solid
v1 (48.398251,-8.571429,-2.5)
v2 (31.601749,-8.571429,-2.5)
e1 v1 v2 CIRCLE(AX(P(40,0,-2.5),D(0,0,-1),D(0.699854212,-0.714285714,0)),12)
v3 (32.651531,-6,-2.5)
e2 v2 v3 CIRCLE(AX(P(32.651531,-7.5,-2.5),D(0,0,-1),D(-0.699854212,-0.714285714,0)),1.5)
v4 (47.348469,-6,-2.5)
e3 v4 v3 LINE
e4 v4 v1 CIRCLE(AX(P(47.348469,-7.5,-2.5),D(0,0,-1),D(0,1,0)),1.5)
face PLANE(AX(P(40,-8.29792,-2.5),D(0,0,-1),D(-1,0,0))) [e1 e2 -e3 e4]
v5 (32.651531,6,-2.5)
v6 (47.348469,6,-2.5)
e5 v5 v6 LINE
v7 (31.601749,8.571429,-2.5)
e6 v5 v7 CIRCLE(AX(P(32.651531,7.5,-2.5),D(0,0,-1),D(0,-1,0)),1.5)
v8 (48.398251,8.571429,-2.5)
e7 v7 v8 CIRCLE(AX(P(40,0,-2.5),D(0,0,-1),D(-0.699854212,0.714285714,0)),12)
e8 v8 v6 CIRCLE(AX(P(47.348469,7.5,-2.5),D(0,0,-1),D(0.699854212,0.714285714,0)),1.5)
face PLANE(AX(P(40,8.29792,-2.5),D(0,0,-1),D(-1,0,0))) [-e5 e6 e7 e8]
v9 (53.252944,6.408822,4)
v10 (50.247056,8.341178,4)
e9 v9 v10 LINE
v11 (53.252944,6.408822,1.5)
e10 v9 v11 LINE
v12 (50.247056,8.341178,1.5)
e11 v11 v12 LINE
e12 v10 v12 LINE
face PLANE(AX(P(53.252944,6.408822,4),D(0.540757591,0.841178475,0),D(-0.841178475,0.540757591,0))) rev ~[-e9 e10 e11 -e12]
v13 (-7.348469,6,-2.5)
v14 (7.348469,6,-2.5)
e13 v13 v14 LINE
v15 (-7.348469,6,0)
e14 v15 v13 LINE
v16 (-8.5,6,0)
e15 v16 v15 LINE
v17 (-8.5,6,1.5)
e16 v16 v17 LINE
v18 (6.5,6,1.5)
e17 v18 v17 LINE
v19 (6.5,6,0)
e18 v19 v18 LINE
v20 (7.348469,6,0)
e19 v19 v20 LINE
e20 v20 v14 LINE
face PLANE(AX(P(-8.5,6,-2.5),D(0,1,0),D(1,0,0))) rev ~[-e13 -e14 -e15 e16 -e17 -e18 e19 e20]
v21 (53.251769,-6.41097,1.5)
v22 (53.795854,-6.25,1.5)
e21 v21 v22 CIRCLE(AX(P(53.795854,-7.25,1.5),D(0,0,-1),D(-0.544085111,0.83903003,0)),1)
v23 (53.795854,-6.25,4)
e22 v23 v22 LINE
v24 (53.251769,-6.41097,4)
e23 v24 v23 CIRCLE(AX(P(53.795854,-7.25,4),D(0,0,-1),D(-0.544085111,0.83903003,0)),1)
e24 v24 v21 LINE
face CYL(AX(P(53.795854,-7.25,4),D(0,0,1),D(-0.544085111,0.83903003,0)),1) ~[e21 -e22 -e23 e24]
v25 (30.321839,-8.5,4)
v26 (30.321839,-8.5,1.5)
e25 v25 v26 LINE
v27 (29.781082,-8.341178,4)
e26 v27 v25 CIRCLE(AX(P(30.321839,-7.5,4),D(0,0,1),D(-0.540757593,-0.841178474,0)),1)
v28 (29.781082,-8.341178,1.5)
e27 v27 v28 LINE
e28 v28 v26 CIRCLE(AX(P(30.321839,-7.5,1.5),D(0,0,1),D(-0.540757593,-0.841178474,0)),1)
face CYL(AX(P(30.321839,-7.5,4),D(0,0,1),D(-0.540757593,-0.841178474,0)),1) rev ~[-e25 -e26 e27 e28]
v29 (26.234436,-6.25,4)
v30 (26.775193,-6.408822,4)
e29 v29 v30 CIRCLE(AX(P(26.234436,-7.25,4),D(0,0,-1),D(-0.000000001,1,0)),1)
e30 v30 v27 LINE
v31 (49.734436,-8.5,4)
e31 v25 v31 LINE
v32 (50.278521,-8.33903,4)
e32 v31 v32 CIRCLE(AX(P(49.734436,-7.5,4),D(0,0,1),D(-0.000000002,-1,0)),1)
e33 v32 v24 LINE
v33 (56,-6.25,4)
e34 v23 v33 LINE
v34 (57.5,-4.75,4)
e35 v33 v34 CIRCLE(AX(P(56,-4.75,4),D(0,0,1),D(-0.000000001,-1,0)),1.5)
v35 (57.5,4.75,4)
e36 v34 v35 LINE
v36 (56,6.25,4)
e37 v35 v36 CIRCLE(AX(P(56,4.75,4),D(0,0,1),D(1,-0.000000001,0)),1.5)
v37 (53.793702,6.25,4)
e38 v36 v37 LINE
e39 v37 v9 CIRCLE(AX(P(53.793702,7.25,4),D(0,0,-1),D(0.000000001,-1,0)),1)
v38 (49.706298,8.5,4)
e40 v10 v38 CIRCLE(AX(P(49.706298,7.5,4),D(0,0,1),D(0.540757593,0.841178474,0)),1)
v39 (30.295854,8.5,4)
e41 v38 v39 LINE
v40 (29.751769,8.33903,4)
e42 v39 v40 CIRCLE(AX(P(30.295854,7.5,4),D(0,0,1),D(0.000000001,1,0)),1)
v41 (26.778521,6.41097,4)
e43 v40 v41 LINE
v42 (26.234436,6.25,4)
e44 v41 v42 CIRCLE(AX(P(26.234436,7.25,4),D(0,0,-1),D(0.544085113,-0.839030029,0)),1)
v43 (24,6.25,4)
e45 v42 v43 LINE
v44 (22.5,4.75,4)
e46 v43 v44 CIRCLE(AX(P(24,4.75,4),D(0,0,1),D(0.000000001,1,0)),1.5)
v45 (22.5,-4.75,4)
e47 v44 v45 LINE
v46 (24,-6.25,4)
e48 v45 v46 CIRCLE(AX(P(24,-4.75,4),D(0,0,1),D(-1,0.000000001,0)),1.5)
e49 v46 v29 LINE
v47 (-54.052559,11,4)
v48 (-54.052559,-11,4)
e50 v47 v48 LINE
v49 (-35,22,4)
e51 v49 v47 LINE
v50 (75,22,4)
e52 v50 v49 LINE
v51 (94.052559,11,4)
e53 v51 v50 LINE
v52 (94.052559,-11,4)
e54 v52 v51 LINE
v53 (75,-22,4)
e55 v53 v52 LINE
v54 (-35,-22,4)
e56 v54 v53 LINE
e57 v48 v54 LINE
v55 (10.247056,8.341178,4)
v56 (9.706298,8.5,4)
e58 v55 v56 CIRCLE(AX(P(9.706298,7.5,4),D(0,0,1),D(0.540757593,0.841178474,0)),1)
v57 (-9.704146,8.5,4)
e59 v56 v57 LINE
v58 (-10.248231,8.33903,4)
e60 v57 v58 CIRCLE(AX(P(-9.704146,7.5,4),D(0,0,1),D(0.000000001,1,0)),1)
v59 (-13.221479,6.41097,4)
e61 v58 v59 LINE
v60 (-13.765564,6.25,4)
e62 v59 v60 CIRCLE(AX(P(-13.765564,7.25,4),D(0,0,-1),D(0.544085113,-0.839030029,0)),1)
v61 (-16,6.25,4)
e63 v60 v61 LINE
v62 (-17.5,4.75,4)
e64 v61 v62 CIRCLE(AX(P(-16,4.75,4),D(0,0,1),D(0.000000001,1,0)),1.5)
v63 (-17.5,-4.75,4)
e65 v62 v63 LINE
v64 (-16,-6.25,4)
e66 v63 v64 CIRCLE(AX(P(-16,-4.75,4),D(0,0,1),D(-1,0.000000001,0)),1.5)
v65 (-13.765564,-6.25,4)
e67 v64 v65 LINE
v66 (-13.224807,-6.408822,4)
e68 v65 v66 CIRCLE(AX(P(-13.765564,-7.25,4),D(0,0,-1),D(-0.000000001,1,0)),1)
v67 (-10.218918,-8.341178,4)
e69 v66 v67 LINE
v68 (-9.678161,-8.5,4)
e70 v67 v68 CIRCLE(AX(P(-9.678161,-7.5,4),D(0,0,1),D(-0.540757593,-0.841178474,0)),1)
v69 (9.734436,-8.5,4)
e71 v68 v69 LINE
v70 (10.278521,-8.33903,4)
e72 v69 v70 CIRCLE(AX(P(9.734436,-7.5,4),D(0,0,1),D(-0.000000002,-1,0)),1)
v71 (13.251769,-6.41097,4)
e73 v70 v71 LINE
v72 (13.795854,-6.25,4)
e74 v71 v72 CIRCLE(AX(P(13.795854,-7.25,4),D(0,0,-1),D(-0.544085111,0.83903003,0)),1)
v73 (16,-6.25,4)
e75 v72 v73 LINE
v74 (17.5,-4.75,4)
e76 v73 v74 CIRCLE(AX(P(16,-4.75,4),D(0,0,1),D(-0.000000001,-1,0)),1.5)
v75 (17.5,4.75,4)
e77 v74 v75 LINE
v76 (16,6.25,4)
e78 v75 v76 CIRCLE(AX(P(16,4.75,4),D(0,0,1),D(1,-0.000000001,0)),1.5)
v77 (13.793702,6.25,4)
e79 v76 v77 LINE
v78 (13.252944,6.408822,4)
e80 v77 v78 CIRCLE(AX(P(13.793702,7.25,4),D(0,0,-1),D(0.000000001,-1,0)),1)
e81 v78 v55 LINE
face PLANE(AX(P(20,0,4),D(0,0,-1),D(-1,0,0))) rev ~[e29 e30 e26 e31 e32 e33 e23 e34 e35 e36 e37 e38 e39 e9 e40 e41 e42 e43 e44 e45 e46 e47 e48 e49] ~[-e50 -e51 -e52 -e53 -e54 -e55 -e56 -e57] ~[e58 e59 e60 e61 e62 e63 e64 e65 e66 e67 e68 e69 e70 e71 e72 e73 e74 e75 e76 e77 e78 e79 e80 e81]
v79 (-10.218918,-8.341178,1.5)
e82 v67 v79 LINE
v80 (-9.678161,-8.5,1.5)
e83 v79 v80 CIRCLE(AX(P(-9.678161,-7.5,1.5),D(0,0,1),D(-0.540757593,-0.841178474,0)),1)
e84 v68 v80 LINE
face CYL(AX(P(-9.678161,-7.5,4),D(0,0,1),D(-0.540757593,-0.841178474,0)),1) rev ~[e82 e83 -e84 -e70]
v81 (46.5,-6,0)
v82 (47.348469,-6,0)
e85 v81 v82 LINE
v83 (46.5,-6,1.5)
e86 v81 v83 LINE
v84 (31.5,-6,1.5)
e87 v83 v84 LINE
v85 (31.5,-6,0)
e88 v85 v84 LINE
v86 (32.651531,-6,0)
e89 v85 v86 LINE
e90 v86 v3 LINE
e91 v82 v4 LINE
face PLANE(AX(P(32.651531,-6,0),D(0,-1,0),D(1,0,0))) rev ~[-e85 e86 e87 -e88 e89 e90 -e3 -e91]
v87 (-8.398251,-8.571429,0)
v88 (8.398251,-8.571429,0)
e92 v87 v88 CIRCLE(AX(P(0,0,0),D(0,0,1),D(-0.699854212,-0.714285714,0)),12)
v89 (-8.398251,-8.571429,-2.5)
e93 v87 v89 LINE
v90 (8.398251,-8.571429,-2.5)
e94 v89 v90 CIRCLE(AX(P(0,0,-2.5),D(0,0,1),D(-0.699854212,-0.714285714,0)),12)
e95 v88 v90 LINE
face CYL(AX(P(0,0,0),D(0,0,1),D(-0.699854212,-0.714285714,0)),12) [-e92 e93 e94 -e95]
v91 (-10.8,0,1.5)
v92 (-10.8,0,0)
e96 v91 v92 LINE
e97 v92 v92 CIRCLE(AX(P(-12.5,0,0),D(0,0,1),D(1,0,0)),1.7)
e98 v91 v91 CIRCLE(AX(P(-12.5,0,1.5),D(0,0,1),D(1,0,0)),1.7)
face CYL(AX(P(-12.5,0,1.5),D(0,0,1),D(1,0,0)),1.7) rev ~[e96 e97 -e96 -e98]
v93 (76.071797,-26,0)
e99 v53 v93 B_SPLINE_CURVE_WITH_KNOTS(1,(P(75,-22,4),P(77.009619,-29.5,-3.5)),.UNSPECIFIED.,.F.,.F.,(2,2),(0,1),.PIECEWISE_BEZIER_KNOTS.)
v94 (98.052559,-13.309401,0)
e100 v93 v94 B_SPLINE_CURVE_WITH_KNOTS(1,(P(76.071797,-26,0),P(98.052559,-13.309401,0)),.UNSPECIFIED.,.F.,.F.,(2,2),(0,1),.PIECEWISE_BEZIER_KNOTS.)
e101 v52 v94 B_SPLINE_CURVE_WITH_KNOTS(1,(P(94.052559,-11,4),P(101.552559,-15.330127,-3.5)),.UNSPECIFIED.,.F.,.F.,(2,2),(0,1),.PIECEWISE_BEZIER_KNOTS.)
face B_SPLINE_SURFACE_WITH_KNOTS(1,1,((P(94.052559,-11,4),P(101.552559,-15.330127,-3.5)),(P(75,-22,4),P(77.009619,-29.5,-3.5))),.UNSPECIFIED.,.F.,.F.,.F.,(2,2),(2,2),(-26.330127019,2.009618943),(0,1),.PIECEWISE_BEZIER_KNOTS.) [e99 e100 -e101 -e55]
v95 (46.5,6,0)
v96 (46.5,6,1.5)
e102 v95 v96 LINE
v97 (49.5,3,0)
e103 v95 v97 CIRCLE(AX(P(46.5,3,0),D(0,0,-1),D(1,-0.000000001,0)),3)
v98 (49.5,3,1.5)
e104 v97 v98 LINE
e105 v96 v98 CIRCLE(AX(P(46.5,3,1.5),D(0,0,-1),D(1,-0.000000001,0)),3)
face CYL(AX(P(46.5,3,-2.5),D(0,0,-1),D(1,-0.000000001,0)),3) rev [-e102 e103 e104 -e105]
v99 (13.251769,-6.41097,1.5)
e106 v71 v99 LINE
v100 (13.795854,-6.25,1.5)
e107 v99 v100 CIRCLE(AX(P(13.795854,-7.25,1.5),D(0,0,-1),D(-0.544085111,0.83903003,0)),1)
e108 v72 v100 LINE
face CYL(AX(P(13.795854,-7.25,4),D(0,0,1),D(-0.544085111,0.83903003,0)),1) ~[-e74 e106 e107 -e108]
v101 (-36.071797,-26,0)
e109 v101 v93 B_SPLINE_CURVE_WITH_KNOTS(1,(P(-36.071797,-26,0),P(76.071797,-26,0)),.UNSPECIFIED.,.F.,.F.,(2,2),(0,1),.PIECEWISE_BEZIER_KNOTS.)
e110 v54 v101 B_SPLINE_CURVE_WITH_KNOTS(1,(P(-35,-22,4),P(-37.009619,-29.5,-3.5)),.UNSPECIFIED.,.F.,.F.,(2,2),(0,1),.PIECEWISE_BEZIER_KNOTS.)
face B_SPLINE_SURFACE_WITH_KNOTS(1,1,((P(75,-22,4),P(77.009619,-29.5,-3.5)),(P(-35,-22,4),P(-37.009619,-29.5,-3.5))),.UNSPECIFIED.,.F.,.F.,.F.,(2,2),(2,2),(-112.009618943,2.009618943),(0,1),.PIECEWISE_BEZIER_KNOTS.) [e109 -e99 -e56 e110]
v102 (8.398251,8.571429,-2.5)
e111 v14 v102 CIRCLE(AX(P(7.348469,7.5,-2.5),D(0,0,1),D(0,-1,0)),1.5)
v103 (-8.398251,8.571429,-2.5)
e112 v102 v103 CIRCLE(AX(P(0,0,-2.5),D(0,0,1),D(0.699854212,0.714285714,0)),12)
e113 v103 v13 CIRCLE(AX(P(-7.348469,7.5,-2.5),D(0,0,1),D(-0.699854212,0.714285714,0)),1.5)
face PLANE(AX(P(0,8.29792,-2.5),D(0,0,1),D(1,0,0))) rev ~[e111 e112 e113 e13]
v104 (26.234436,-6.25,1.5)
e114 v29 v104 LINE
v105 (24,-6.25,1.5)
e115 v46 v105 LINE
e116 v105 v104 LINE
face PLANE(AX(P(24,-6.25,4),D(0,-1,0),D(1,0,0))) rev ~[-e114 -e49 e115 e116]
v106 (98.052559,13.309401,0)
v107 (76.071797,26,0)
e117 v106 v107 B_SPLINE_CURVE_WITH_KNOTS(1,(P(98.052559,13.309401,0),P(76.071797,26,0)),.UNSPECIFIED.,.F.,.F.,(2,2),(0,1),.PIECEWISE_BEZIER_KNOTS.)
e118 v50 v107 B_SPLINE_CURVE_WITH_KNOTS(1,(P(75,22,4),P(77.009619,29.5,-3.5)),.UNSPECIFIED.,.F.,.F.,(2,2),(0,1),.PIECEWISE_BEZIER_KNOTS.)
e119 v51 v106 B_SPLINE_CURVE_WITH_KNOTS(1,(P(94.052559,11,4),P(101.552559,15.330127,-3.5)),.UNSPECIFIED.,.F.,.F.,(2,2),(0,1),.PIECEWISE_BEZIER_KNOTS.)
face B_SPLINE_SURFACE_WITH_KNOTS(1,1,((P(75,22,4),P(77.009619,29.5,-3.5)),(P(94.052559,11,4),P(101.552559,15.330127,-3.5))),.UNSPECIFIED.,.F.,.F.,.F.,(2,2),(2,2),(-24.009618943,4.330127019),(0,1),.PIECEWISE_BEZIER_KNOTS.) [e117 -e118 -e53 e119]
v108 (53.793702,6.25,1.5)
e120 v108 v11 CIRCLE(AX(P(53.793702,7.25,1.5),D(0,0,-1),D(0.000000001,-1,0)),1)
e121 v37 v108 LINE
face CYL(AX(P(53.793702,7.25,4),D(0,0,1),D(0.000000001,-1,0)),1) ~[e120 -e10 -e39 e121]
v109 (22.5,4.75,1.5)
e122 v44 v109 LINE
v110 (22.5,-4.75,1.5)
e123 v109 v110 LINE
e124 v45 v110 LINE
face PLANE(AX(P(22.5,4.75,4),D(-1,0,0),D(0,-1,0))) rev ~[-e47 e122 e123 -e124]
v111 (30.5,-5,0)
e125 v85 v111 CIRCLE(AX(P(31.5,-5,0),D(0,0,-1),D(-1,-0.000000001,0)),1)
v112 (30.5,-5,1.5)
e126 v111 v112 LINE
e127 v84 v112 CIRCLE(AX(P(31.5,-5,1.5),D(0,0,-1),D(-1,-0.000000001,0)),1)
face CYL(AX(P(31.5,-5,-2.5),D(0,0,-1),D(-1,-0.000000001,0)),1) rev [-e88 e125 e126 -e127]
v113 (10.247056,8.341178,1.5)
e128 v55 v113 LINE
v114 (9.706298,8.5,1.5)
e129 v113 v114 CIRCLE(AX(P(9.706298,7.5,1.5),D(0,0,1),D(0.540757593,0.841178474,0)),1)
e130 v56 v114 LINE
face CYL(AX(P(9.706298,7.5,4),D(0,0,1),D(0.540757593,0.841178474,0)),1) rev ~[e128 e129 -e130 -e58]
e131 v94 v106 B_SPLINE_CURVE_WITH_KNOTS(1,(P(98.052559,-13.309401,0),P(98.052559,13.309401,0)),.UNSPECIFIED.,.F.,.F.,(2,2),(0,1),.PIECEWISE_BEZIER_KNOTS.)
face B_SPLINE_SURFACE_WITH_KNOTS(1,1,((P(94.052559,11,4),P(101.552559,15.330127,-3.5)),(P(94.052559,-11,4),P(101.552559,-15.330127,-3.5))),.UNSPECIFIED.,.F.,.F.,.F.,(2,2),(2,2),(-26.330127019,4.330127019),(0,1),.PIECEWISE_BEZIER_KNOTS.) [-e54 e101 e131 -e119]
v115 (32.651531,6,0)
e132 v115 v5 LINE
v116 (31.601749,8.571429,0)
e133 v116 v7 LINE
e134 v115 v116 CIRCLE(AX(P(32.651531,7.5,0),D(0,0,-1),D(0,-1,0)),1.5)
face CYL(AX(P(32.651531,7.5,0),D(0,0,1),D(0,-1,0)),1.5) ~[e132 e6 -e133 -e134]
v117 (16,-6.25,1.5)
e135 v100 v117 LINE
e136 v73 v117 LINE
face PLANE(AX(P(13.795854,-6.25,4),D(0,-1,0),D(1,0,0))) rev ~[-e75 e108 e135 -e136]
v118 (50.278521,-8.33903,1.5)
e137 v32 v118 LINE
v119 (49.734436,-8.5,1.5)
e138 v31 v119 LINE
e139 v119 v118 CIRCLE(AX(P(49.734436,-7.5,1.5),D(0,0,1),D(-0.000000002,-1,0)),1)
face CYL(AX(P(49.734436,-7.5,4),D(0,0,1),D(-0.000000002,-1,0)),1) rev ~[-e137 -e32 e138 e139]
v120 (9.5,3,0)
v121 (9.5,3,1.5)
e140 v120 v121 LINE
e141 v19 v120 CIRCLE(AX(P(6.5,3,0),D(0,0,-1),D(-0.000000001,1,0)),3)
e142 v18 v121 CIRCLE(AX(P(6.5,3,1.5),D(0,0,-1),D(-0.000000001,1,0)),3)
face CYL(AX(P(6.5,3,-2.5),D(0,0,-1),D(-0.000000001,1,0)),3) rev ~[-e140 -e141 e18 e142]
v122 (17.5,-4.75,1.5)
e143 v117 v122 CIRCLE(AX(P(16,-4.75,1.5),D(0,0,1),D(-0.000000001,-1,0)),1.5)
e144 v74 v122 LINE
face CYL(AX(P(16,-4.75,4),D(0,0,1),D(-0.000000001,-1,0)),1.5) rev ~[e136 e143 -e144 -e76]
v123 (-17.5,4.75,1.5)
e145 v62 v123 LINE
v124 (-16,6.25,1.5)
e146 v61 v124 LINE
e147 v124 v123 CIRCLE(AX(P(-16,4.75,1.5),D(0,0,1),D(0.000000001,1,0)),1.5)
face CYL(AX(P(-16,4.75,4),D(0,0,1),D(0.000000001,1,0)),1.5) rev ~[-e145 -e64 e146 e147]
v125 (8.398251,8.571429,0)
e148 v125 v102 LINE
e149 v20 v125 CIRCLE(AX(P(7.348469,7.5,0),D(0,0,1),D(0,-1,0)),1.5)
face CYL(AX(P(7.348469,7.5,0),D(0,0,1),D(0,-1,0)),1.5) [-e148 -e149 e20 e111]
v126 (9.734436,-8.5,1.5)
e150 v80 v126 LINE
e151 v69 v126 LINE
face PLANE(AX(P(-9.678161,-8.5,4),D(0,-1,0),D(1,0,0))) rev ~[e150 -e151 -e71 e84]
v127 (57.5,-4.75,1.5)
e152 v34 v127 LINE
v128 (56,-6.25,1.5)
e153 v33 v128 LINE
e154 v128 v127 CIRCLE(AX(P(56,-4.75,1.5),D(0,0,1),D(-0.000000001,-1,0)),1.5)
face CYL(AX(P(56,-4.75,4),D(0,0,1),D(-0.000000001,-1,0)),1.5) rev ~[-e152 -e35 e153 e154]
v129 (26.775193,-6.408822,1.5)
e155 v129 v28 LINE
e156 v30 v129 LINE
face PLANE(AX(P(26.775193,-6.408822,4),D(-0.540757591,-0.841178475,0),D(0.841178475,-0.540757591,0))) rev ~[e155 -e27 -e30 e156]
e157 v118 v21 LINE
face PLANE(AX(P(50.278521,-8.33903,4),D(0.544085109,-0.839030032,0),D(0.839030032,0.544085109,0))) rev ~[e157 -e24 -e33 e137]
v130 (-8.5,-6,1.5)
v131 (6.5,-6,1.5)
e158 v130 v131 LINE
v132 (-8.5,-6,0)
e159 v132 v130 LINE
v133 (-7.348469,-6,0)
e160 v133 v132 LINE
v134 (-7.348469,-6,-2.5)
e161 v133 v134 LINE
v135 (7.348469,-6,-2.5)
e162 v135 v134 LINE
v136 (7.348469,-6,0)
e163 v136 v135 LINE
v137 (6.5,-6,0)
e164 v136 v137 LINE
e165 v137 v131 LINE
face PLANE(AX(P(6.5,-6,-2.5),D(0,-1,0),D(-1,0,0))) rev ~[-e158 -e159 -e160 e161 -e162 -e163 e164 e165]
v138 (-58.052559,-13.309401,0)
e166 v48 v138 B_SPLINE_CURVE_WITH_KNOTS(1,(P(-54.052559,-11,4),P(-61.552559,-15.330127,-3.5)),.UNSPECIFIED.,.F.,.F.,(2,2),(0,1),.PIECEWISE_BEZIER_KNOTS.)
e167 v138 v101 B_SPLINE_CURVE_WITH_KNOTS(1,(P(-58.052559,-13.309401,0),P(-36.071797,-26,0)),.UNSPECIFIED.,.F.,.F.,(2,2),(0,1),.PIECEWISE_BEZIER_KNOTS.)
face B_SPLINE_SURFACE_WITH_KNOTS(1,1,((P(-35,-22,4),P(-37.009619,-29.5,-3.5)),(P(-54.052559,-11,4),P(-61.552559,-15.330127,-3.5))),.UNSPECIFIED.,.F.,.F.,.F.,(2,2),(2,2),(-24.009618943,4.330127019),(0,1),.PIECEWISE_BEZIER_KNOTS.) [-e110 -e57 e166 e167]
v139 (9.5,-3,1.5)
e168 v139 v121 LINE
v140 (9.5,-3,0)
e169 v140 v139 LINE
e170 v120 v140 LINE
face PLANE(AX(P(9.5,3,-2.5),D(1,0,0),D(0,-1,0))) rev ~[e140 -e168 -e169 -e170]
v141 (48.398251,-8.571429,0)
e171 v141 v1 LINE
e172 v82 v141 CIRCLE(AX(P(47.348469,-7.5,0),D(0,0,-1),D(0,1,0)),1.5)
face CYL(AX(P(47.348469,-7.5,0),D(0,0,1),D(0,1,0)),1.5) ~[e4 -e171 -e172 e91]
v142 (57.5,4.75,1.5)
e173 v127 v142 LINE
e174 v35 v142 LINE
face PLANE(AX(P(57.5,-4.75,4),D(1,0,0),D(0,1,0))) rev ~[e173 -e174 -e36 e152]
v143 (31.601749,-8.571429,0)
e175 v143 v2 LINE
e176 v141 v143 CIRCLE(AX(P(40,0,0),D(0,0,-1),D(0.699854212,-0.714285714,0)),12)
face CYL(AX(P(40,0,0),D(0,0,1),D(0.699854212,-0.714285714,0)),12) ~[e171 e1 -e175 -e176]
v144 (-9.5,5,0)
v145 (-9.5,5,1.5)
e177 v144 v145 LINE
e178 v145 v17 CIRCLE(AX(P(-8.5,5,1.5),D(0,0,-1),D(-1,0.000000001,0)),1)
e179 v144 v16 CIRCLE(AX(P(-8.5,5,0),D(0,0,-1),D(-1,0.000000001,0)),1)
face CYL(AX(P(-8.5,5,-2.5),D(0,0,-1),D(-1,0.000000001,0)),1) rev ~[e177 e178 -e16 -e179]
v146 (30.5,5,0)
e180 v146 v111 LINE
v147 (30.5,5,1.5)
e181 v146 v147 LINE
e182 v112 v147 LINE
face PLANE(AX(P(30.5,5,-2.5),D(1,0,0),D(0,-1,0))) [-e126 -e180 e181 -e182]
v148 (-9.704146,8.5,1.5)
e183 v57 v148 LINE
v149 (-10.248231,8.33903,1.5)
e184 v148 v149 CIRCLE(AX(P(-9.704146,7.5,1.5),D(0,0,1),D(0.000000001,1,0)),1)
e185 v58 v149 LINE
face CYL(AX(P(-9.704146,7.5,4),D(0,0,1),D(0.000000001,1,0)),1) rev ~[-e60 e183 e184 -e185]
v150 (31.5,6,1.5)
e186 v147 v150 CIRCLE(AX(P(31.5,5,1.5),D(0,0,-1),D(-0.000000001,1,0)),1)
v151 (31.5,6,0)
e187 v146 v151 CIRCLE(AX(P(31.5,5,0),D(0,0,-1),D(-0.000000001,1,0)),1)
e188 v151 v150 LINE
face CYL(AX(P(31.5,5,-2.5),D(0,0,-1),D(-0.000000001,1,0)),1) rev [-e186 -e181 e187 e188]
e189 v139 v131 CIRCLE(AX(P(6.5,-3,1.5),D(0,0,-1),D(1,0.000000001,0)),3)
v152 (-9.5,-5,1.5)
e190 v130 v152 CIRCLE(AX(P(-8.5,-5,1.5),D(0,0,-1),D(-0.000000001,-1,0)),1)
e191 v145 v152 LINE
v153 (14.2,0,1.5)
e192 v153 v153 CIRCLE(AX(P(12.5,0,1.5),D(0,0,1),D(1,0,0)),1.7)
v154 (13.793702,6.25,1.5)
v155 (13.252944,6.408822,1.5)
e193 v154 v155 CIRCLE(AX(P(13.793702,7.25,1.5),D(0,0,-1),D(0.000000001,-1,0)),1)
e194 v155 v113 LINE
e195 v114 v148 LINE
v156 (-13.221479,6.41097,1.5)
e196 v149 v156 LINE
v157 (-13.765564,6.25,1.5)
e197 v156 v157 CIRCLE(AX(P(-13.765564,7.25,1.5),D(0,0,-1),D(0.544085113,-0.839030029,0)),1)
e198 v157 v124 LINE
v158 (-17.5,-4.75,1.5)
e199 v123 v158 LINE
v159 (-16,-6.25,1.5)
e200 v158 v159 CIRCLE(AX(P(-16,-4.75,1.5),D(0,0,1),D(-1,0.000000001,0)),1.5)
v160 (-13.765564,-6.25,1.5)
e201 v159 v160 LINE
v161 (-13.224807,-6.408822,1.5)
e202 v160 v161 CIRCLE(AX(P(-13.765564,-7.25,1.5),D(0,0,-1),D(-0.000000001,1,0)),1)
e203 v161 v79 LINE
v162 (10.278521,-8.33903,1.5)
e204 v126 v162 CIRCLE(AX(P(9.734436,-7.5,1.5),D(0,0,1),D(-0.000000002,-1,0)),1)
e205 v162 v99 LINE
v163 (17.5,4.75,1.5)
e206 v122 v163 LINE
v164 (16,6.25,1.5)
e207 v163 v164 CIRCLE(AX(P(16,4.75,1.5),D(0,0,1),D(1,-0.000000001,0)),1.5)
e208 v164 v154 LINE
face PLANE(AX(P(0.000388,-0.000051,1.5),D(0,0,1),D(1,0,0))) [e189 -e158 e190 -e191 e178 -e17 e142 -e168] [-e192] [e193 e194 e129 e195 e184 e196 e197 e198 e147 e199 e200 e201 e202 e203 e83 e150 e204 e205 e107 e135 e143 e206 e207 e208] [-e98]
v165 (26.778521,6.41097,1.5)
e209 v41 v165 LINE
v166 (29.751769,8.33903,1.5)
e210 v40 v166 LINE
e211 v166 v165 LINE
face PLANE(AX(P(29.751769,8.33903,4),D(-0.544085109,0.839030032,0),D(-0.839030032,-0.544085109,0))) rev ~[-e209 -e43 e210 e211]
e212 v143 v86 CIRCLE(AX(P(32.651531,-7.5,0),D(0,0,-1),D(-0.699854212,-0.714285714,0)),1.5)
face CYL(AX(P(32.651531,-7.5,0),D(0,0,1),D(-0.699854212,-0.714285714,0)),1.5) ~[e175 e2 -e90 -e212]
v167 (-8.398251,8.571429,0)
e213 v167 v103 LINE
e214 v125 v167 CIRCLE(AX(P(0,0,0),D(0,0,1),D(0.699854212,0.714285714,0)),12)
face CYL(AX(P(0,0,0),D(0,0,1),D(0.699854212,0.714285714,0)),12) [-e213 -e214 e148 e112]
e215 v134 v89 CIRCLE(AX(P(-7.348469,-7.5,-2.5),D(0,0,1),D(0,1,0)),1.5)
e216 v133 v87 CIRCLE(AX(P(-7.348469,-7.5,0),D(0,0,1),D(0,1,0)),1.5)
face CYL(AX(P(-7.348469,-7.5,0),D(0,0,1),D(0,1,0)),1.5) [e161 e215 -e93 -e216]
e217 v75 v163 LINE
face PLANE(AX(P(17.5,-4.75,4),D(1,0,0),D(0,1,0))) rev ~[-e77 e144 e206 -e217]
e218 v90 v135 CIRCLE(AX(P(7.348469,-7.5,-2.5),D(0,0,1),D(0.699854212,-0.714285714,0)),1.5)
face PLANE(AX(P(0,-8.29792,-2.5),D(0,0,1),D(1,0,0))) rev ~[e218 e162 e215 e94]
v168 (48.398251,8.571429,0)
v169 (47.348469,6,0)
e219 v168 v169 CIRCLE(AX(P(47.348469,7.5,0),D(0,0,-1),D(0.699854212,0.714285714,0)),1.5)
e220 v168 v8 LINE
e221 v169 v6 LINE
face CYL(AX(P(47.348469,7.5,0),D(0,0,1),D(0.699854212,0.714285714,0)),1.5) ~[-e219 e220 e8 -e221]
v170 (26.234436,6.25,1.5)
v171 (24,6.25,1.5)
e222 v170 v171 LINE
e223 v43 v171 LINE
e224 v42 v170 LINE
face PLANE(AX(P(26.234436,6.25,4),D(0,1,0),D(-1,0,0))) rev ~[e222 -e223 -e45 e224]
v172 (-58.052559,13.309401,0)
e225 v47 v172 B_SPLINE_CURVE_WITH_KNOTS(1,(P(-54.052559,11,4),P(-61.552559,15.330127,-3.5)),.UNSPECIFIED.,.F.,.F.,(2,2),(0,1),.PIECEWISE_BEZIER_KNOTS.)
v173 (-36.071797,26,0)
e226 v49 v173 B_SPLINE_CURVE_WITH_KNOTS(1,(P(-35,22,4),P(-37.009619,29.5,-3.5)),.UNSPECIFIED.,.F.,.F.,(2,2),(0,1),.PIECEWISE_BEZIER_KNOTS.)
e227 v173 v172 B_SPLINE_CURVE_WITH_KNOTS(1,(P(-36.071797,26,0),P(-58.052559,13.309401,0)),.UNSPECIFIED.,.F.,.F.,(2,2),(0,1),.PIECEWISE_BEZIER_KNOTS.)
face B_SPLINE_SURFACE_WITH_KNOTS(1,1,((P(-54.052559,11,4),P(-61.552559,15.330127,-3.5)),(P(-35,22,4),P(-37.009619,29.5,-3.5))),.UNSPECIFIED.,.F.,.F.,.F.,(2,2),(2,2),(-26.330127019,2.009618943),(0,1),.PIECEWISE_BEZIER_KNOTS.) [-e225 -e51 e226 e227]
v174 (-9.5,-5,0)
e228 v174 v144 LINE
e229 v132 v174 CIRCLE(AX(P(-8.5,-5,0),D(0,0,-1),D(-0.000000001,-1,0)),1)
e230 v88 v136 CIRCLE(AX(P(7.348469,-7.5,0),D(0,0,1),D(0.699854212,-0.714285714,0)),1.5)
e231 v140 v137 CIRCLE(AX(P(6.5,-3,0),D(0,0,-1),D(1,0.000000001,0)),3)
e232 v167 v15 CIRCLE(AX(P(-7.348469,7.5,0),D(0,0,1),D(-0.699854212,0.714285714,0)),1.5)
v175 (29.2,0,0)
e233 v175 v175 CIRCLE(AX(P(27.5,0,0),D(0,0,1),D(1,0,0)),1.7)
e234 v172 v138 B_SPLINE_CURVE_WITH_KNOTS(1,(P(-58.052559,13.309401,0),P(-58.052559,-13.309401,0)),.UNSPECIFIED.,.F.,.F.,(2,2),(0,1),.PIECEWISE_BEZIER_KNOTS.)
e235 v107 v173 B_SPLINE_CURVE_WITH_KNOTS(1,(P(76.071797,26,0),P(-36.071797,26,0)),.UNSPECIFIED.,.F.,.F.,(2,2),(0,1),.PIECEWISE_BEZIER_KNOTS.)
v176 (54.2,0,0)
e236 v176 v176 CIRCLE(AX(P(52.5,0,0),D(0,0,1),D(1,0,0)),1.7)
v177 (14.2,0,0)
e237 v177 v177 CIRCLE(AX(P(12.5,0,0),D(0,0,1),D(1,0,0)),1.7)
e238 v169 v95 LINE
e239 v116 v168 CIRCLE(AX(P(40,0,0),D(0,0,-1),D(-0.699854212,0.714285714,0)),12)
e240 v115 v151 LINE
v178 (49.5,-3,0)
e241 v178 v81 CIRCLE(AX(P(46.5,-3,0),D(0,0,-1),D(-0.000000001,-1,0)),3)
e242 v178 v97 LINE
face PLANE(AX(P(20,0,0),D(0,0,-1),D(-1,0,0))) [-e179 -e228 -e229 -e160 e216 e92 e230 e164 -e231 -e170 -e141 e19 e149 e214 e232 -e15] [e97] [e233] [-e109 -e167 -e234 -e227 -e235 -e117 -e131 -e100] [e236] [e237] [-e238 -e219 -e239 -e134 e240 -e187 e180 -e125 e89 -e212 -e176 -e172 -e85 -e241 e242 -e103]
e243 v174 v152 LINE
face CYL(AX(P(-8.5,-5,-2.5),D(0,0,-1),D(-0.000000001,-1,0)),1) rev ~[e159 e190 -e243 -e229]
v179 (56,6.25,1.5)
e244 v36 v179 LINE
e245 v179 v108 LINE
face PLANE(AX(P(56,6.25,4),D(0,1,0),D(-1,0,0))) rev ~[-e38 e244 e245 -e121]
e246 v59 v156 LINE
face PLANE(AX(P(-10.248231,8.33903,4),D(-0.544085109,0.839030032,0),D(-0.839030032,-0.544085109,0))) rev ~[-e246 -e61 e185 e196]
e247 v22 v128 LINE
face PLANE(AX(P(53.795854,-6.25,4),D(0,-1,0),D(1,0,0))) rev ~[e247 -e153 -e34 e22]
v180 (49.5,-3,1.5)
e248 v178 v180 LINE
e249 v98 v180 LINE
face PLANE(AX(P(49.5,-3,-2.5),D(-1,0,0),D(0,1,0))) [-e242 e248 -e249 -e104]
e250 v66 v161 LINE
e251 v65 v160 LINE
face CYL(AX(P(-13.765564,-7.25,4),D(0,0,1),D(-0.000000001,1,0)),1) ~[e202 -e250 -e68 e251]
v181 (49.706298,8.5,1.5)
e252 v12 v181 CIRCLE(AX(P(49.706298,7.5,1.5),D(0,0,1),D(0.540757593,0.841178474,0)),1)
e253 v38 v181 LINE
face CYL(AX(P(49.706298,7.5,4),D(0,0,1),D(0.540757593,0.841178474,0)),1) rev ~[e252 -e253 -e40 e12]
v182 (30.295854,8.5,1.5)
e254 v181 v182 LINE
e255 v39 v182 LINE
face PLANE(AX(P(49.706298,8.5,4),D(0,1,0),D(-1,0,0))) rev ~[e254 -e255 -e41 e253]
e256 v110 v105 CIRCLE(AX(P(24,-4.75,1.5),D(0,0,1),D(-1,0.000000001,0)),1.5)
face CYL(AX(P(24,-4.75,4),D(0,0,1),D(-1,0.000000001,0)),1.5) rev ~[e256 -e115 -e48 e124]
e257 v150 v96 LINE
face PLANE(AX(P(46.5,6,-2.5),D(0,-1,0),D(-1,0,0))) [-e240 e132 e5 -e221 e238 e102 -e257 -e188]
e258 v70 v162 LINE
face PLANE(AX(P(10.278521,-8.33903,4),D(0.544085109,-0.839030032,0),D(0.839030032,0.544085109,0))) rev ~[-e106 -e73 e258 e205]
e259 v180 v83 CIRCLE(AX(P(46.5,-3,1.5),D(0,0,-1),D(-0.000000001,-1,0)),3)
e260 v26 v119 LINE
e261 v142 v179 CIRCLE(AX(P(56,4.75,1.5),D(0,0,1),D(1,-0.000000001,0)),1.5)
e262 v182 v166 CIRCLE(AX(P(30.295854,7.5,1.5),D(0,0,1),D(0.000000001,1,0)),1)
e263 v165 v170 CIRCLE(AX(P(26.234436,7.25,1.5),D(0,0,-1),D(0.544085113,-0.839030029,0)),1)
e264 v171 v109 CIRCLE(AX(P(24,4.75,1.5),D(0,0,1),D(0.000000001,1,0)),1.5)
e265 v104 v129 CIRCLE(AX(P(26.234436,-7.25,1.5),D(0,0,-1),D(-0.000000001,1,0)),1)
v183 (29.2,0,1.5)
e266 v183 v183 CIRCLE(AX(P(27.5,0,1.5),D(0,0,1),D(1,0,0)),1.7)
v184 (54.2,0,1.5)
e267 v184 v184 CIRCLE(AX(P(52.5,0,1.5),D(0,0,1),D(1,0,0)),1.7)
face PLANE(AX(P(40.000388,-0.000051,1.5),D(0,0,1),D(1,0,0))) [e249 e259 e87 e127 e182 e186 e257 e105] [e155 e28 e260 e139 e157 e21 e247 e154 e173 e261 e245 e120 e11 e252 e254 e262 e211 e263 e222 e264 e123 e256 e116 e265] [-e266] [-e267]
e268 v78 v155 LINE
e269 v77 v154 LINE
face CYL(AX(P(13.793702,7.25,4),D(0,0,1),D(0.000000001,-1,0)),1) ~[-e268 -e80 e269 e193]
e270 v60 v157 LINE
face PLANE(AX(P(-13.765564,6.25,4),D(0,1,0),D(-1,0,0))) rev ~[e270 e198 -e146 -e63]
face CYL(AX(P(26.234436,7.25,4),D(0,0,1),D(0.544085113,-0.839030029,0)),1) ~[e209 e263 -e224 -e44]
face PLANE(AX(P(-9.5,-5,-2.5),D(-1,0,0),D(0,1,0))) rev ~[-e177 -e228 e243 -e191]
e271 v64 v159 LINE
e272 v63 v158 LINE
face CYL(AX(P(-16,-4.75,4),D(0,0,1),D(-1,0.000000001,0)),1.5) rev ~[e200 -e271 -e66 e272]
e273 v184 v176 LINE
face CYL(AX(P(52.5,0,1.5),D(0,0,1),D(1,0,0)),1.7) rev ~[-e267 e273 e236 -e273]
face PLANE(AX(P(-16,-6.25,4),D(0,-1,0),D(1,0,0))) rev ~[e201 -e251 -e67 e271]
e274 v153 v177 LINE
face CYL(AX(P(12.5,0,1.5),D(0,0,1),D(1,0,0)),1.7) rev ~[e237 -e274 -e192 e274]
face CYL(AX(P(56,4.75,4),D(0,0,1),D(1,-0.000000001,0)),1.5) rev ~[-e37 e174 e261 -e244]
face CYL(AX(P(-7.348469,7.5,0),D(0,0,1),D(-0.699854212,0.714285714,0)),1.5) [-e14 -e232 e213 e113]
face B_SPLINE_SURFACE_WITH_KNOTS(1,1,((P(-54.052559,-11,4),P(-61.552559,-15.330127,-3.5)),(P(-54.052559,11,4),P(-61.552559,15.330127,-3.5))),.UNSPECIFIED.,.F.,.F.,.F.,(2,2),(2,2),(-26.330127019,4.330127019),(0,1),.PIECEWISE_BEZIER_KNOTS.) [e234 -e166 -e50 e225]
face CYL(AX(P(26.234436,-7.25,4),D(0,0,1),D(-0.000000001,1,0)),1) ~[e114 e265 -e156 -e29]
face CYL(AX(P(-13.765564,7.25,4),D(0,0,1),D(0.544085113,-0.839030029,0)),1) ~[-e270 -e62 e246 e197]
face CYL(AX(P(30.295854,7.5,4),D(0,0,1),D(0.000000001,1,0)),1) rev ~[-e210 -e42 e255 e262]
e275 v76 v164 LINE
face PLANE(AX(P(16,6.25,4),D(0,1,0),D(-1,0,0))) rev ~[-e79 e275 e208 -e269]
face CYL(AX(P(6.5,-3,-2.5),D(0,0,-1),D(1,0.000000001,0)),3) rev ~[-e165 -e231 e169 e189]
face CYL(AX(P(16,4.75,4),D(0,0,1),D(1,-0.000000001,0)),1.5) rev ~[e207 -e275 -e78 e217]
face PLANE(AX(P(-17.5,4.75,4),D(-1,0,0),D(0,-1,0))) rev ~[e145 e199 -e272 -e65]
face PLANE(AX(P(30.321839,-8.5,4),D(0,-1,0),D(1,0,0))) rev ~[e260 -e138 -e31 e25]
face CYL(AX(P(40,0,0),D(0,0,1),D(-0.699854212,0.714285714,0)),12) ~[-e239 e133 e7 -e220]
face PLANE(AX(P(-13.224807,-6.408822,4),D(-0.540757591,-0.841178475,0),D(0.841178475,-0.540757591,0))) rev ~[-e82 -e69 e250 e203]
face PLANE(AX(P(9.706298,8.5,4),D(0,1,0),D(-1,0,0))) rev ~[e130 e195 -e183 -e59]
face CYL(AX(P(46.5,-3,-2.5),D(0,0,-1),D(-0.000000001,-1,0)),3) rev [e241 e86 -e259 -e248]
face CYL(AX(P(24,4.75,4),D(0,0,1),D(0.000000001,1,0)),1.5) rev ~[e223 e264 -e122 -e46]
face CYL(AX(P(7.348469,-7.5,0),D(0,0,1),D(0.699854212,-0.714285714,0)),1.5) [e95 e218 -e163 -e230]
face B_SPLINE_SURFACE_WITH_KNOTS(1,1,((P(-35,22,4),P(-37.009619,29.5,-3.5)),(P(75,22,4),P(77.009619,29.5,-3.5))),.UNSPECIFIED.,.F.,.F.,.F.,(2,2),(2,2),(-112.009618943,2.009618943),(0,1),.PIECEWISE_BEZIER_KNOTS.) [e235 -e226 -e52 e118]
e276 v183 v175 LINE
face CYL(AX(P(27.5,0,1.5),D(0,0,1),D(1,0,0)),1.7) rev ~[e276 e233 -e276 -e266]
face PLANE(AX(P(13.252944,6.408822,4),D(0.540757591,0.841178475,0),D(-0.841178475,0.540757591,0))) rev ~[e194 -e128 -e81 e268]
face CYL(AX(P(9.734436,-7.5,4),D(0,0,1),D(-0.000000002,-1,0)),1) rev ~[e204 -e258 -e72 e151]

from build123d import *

# Parameters (mm, degrees)
BOSS_EXTRUDE1_DEPTH = 4
BOSS_EXTRUDE2_DEPTH = 2.5
CUT_EXTRUDE1_DEPTH  = 2.5
CUT_EXTRUDE2_DEPTH  = 7.5
SKETCH5_R           = 1.7
CUT_EXTRUDE3_DEPTH  = 5
SKETCH7_OUTSIDE_W   = 218.062
SKETCH7_OUTSIDE_H   = 108.062
CUT_EXTRUDE4_DEPTH  = 7.5
CUT_EXTRUDE4_TAPER  = 45


with BuildPart() as part:
    # Sketch1 → Boss-Extrude1 (new body)
    with BuildSketch(Plane.XY):
        with BuildLine():
            Line((-35, 28), (75, 28))
            ThreePointArc((75, 28), (103, 0), (75, -28))
            Line((75, -28), (-35, -28))
            ThreePointArc((-35, -28), (-63, 0), (-35, 28))
        make_face()
    extrude(amount=BOSS_EXTRUDE1_DEPTH)

    # Sketch2 → Boss-Extrude2 (add)
    with BuildSketch(Plane(origin=(0, 0, 0), x_dir=(-1, 0, 0), z_dir=(0, 0, -1))):
        with BuildLine():
            Line((-7.348469228, -6), (7.348469228, -6))
            ThreePointArc((7.348469228, -6), (8.737199378, -6.93305329), (8.398250547, -8.571428571))
            ThreePointArc((8.398250547, -8.571428571), (0, -12), (-8.398250547, -8.571428571))
            ThreePointArc((-8.398250547, -8.571428571), (-8.737199378, -6.93305329), (-7.348469228, -6))
        make_face()
        with BuildLine():
            Line((7.348469228, 6), (-7.348469228, 6))
            ThreePointArc((-7.348469228, 6), (-8.737199378, 6.93305329), (-8.398250547, 8.571428571))
            ThreePointArc((-8.398250547, 8.571428571), (0, 12), (8.398250547, 8.571428571))
            ThreePointArc((8.398250547, 8.571428571), (8.737199378, 6.93305329), (7.348469228, 6))
        make_face()
        with BuildLine():
            Line((-47.348469228, 6), (-32.651530772, 6))
            ThreePointArc((-32.651530772, 6), (-31.262800622, 6.93305329), (-31.601749453, 8.571428571))
            ThreePointArc((-31.601749453, 8.571428571), (-40, 12), (-48.398250547, 8.571428571))
            ThreePointArc((-48.398250547, 8.571428571), (-48.737199378, 6.93305329), (-47.348469228, 6))
        make_face()
        with BuildLine():
            Line((-32.651530772, -6), (-47.348469228, -6))
            ThreePointArc((-47.348469228, -6), (-48.737199378, -6.93305329), (-48.398250547, -8.571428571))
            ThreePointArc((-48.398250547, -8.571428571), (-40, -12), (-31.601749453, -8.571428571))
            ThreePointArc((-31.601749453, -8.571428571), (-31.262800622, -6.93305329), (-32.651530772, -6))
        make_face()
    extrude(amount=BOSS_EXTRUDE2_DEPTH)

    # Sketch3 → Cut-Extrude1 (cut)
    with BuildSketch(Plane.XY.offset(4)):
        with BuildLine():
            Line((-17.5, 4.75), (-17.5, -4.75))
            ThreePointArc((-17.5, -4.75), (-17.060660172, -5.810660172), (-16, -6.25))
            Line((-16, -6.25), (-13.765564437, -6.25))
            ThreePointArc((-13.765564437, -6.25), (-13.483765285, -6.290526583), (-13.224806846, -6.408821525))
            Line((-13.224806846, -6.408821525), (-10.218918256, -8.341178475))
            ThreePointArc((-10.218918256, -8.341178475), (-9.959959817, -8.459473417), (-9.678160664, -8.5))
            Line((-9.678160664, -8.5), (9.734435563, -8.5))
            ThreePointArc((9.734435563, -8.5), (10.018134319, -8.458913456), (10.278520672, -8.339030031))
            Line((10.278520672, -8.339030031), (13.251769281, -6.410969969))
            ThreePointArc((13.251769281, -6.410969969), (13.512155635, -6.291086544), (13.795854391, -6.25))
            Line((13.795854391, -6.25), (16, -6.25))
            ThreePointArc((16, -6.25), (17.060660172, -5.810660172), (17.5, -4.75))
            Line((17.5, -4.75), (17.5, 4.75))
            ThreePointArc((17.5, 4.75), (17.060660172, 5.810660172), (16, 6.25))
            Line((16, 6.25), (13.793701886, 6.25))
            ThreePointArc((13.793701886, 6.25), (13.511902734, 6.290526583), (13.252944295, 6.408821525))
            Line((13.252944295, 6.408821525), (10.247055705, 8.341178475))
            ThreePointArc((10.247055705, 8.341178475), (9.988097266, 8.459473417), (9.706298114, 8.5))
            Line((9.706298114, 8.5), (-9.704145609, 8.5))
            ThreePointArc((-9.704145609, 8.5), (-9.987844365, 8.458913456), (-10.248230719, 8.339030031))
            Line((-10.248230719, 8.339030031), (-13.221479328, 6.410969969))
            ThreePointArc((-13.221479328, 6.410969969), (-13.481865681, 6.291086544), (-13.765564437, 6.25))
            Line((-13.765564437, 6.25), (-16, 6.25))
            ThreePointArc((-16, 6.25), (-17.060660172, 5.810660172), (-17.5, 4.75))
        make_face()
        with BuildLine():
            Line((22.5, 4.75), (22.5, -4.75))
            ThreePointArc((22.5, -4.75), (22.939339828, -5.810660172), (24, -6.25))
            Line((24, -6.25), (26.234435563, -6.25))
            ThreePointArc((26.234435563, -6.25), (26.516234715, -6.290526583), (26.775193154, -6.408821525))
            Line((26.775193154, -6.408821525), (29.781081744, -8.341178475))
            ThreePointArc((29.781081744, -8.341178475), (30.040040183, -8.459473417), (30.321839336, -8.5))
            Line((30.321839336, -8.5), (49.734435563, -8.5))
            ThreePointArc((49.734435563, -8.5), (50.018134319, -8.458913456), (50.278520672, -8.339030031))
            Line((50.278520672, -8.339030031), (53.251769281, -6.410969969))
            ThreePointArc((53.251769281, -6.410969969), (53.512155635, -6.291086544), (53.795854391, -6.25))
            Line((53.795854391, -6.25), (56, -6.25))
            ThreePointArc((56, -6.25), (57.060660172, -5.810660172), (57.5, -4.75))
            Line((57.5, -4.75), (57.5, 4.75))
            ThreePointArc((57.5, 4.75), (57.060660172, 5.810660172), (56, 6.25))
            Line((56, 6.25), (53.793701886, 6.25))
            ThreePointArc((53.793701886, 6.25), (53.511902734, 6.290526583), (53.252944295, 6.408821525))
            Line((53.252944295, 6.408821525), (50.247055705, 8.341178475))
            ThreePointArc((50.247055705, 8.341178475), (49.988097266, 8.459473417), (49.706298114, 8.5))
            Line((49.706298114, 8.5), (30.295854391, 8.5))
            ThreePointArc((30.295854391, 8.5), (30.012155635, 8.458913456), (29.751769281, 8.339030031))
            Line((29.751769281, 8.339030031), (26.778520672, 6.410969969))
            ThreePointArc((26.778520672, 6.410969969), (26.518134319, 6.291086544), (26.234435563, 6.25))
            Line((26.234435563, 6.25), (24, 6.25))
            ThreePointArc((24, 6.25), (22.939339828, 5.810660172), (22.5, 4.75))
        make_face()
    extrude(amount=-CUT_EXTRUDE1_DEPTH, mode=Mode.SUBTRACT)

    # Sketch4 → Cut-Extrude2 (cut, through all)
    with BuildSketch(Plane(origin=(0, 0, -2.5), x_dir=(-1, 0, 0), z_dir=(0, 0, -1))):
        with BuildLine():
            Line((-6.5, -6), (8.5, -6))
            ThreePointArc((8.5, -6), (9.207106781, -5.707106781), (9.5, -5))
            Line((9.5, -5), (9.5, 5))
            ThreePointArc((9.5, 5), (9.207106781, 5.707106781), (8.5, 6))
            Line((8.5, 6), (-6.5, 6))
            ThreePointArc((-6.5, 6), (-8.621320344, 5.121320344), (-9.5, 3))
            Line((-9.5, 3), (-9.5, -3))
            ThreePointArc((-9.5, -3), (-8.621320344, -5.121320344), (-6.5, -6))
        make_face()
        with BuildLine():
            Line((-46.5, 6), (-31.5, 6))
            ThreePointArc((-31.5, 6), (-30.792893219, 5.707106781), (-30.5, 5))
            Line((-30.5, 5), (-30.5, -5))
            ThreePointArc((-30.5, -5), (-30.792893219, -5.707106781), (-31.5, -6))
            Line((-31.5, -6), (-46.5, -6))
            ThreePointArc((-46.5, -6), (-48.621320344, -5.121320344), (-49.5, -3))
            Line((-49.5, -3), (-49.5, 3))
            ThreePointArc((-49.5, 3), (-48.621320344, 5.121320344), (-46.5, 6))
        make_face()
    extrude(amount=-CUT_EXTRUDE2_DEPTH, mode=Mode.SUBTRACT)

    # Sketch5 → Cut-Extrude3 (cut, through all)
    with BuildSketch(Plane.XY.offset(1.5)):
        with Locations((-12.5, 0)):
            Circle(SKETCH5_R)
        with Locations((12.5, 0)):
            Circle(SKETCH5_R)
        with Locations((27.5, 0)):
            Circle(SKETCH5_R)
        with Locations((52.5, 0)):
            Circle(SKETCH5_R)
    extrude(amount=-CUT_EXTRUDE3_DEPTH, mode=Mode.SUBTRACT)

    # Sketch7 outside → Cut-Extrude4 (cut, through all)
    with BuildSketch(Plane.XY.offset(4)):
        with Locations((20, 0)):
            Rectangle(SKETCH7_OUTSIDE_W, SKETCH7_OUTSIDE_H)
        Polygon((-35, 22), (-54.052558883, 11), (-54.052558883, -11), (-35, -22), (75, -22), (94.052558883, -11), (94.052558883, 11), (75, 22), align=None, mode=Mode.SUBTRACT)
    extrude(amount=-CUT_EXTRUDE4_DEPTH, taper=CUT_EXTRUDE4_TAPER, mode=Mode.SUBTRACT)


solid = part.part
